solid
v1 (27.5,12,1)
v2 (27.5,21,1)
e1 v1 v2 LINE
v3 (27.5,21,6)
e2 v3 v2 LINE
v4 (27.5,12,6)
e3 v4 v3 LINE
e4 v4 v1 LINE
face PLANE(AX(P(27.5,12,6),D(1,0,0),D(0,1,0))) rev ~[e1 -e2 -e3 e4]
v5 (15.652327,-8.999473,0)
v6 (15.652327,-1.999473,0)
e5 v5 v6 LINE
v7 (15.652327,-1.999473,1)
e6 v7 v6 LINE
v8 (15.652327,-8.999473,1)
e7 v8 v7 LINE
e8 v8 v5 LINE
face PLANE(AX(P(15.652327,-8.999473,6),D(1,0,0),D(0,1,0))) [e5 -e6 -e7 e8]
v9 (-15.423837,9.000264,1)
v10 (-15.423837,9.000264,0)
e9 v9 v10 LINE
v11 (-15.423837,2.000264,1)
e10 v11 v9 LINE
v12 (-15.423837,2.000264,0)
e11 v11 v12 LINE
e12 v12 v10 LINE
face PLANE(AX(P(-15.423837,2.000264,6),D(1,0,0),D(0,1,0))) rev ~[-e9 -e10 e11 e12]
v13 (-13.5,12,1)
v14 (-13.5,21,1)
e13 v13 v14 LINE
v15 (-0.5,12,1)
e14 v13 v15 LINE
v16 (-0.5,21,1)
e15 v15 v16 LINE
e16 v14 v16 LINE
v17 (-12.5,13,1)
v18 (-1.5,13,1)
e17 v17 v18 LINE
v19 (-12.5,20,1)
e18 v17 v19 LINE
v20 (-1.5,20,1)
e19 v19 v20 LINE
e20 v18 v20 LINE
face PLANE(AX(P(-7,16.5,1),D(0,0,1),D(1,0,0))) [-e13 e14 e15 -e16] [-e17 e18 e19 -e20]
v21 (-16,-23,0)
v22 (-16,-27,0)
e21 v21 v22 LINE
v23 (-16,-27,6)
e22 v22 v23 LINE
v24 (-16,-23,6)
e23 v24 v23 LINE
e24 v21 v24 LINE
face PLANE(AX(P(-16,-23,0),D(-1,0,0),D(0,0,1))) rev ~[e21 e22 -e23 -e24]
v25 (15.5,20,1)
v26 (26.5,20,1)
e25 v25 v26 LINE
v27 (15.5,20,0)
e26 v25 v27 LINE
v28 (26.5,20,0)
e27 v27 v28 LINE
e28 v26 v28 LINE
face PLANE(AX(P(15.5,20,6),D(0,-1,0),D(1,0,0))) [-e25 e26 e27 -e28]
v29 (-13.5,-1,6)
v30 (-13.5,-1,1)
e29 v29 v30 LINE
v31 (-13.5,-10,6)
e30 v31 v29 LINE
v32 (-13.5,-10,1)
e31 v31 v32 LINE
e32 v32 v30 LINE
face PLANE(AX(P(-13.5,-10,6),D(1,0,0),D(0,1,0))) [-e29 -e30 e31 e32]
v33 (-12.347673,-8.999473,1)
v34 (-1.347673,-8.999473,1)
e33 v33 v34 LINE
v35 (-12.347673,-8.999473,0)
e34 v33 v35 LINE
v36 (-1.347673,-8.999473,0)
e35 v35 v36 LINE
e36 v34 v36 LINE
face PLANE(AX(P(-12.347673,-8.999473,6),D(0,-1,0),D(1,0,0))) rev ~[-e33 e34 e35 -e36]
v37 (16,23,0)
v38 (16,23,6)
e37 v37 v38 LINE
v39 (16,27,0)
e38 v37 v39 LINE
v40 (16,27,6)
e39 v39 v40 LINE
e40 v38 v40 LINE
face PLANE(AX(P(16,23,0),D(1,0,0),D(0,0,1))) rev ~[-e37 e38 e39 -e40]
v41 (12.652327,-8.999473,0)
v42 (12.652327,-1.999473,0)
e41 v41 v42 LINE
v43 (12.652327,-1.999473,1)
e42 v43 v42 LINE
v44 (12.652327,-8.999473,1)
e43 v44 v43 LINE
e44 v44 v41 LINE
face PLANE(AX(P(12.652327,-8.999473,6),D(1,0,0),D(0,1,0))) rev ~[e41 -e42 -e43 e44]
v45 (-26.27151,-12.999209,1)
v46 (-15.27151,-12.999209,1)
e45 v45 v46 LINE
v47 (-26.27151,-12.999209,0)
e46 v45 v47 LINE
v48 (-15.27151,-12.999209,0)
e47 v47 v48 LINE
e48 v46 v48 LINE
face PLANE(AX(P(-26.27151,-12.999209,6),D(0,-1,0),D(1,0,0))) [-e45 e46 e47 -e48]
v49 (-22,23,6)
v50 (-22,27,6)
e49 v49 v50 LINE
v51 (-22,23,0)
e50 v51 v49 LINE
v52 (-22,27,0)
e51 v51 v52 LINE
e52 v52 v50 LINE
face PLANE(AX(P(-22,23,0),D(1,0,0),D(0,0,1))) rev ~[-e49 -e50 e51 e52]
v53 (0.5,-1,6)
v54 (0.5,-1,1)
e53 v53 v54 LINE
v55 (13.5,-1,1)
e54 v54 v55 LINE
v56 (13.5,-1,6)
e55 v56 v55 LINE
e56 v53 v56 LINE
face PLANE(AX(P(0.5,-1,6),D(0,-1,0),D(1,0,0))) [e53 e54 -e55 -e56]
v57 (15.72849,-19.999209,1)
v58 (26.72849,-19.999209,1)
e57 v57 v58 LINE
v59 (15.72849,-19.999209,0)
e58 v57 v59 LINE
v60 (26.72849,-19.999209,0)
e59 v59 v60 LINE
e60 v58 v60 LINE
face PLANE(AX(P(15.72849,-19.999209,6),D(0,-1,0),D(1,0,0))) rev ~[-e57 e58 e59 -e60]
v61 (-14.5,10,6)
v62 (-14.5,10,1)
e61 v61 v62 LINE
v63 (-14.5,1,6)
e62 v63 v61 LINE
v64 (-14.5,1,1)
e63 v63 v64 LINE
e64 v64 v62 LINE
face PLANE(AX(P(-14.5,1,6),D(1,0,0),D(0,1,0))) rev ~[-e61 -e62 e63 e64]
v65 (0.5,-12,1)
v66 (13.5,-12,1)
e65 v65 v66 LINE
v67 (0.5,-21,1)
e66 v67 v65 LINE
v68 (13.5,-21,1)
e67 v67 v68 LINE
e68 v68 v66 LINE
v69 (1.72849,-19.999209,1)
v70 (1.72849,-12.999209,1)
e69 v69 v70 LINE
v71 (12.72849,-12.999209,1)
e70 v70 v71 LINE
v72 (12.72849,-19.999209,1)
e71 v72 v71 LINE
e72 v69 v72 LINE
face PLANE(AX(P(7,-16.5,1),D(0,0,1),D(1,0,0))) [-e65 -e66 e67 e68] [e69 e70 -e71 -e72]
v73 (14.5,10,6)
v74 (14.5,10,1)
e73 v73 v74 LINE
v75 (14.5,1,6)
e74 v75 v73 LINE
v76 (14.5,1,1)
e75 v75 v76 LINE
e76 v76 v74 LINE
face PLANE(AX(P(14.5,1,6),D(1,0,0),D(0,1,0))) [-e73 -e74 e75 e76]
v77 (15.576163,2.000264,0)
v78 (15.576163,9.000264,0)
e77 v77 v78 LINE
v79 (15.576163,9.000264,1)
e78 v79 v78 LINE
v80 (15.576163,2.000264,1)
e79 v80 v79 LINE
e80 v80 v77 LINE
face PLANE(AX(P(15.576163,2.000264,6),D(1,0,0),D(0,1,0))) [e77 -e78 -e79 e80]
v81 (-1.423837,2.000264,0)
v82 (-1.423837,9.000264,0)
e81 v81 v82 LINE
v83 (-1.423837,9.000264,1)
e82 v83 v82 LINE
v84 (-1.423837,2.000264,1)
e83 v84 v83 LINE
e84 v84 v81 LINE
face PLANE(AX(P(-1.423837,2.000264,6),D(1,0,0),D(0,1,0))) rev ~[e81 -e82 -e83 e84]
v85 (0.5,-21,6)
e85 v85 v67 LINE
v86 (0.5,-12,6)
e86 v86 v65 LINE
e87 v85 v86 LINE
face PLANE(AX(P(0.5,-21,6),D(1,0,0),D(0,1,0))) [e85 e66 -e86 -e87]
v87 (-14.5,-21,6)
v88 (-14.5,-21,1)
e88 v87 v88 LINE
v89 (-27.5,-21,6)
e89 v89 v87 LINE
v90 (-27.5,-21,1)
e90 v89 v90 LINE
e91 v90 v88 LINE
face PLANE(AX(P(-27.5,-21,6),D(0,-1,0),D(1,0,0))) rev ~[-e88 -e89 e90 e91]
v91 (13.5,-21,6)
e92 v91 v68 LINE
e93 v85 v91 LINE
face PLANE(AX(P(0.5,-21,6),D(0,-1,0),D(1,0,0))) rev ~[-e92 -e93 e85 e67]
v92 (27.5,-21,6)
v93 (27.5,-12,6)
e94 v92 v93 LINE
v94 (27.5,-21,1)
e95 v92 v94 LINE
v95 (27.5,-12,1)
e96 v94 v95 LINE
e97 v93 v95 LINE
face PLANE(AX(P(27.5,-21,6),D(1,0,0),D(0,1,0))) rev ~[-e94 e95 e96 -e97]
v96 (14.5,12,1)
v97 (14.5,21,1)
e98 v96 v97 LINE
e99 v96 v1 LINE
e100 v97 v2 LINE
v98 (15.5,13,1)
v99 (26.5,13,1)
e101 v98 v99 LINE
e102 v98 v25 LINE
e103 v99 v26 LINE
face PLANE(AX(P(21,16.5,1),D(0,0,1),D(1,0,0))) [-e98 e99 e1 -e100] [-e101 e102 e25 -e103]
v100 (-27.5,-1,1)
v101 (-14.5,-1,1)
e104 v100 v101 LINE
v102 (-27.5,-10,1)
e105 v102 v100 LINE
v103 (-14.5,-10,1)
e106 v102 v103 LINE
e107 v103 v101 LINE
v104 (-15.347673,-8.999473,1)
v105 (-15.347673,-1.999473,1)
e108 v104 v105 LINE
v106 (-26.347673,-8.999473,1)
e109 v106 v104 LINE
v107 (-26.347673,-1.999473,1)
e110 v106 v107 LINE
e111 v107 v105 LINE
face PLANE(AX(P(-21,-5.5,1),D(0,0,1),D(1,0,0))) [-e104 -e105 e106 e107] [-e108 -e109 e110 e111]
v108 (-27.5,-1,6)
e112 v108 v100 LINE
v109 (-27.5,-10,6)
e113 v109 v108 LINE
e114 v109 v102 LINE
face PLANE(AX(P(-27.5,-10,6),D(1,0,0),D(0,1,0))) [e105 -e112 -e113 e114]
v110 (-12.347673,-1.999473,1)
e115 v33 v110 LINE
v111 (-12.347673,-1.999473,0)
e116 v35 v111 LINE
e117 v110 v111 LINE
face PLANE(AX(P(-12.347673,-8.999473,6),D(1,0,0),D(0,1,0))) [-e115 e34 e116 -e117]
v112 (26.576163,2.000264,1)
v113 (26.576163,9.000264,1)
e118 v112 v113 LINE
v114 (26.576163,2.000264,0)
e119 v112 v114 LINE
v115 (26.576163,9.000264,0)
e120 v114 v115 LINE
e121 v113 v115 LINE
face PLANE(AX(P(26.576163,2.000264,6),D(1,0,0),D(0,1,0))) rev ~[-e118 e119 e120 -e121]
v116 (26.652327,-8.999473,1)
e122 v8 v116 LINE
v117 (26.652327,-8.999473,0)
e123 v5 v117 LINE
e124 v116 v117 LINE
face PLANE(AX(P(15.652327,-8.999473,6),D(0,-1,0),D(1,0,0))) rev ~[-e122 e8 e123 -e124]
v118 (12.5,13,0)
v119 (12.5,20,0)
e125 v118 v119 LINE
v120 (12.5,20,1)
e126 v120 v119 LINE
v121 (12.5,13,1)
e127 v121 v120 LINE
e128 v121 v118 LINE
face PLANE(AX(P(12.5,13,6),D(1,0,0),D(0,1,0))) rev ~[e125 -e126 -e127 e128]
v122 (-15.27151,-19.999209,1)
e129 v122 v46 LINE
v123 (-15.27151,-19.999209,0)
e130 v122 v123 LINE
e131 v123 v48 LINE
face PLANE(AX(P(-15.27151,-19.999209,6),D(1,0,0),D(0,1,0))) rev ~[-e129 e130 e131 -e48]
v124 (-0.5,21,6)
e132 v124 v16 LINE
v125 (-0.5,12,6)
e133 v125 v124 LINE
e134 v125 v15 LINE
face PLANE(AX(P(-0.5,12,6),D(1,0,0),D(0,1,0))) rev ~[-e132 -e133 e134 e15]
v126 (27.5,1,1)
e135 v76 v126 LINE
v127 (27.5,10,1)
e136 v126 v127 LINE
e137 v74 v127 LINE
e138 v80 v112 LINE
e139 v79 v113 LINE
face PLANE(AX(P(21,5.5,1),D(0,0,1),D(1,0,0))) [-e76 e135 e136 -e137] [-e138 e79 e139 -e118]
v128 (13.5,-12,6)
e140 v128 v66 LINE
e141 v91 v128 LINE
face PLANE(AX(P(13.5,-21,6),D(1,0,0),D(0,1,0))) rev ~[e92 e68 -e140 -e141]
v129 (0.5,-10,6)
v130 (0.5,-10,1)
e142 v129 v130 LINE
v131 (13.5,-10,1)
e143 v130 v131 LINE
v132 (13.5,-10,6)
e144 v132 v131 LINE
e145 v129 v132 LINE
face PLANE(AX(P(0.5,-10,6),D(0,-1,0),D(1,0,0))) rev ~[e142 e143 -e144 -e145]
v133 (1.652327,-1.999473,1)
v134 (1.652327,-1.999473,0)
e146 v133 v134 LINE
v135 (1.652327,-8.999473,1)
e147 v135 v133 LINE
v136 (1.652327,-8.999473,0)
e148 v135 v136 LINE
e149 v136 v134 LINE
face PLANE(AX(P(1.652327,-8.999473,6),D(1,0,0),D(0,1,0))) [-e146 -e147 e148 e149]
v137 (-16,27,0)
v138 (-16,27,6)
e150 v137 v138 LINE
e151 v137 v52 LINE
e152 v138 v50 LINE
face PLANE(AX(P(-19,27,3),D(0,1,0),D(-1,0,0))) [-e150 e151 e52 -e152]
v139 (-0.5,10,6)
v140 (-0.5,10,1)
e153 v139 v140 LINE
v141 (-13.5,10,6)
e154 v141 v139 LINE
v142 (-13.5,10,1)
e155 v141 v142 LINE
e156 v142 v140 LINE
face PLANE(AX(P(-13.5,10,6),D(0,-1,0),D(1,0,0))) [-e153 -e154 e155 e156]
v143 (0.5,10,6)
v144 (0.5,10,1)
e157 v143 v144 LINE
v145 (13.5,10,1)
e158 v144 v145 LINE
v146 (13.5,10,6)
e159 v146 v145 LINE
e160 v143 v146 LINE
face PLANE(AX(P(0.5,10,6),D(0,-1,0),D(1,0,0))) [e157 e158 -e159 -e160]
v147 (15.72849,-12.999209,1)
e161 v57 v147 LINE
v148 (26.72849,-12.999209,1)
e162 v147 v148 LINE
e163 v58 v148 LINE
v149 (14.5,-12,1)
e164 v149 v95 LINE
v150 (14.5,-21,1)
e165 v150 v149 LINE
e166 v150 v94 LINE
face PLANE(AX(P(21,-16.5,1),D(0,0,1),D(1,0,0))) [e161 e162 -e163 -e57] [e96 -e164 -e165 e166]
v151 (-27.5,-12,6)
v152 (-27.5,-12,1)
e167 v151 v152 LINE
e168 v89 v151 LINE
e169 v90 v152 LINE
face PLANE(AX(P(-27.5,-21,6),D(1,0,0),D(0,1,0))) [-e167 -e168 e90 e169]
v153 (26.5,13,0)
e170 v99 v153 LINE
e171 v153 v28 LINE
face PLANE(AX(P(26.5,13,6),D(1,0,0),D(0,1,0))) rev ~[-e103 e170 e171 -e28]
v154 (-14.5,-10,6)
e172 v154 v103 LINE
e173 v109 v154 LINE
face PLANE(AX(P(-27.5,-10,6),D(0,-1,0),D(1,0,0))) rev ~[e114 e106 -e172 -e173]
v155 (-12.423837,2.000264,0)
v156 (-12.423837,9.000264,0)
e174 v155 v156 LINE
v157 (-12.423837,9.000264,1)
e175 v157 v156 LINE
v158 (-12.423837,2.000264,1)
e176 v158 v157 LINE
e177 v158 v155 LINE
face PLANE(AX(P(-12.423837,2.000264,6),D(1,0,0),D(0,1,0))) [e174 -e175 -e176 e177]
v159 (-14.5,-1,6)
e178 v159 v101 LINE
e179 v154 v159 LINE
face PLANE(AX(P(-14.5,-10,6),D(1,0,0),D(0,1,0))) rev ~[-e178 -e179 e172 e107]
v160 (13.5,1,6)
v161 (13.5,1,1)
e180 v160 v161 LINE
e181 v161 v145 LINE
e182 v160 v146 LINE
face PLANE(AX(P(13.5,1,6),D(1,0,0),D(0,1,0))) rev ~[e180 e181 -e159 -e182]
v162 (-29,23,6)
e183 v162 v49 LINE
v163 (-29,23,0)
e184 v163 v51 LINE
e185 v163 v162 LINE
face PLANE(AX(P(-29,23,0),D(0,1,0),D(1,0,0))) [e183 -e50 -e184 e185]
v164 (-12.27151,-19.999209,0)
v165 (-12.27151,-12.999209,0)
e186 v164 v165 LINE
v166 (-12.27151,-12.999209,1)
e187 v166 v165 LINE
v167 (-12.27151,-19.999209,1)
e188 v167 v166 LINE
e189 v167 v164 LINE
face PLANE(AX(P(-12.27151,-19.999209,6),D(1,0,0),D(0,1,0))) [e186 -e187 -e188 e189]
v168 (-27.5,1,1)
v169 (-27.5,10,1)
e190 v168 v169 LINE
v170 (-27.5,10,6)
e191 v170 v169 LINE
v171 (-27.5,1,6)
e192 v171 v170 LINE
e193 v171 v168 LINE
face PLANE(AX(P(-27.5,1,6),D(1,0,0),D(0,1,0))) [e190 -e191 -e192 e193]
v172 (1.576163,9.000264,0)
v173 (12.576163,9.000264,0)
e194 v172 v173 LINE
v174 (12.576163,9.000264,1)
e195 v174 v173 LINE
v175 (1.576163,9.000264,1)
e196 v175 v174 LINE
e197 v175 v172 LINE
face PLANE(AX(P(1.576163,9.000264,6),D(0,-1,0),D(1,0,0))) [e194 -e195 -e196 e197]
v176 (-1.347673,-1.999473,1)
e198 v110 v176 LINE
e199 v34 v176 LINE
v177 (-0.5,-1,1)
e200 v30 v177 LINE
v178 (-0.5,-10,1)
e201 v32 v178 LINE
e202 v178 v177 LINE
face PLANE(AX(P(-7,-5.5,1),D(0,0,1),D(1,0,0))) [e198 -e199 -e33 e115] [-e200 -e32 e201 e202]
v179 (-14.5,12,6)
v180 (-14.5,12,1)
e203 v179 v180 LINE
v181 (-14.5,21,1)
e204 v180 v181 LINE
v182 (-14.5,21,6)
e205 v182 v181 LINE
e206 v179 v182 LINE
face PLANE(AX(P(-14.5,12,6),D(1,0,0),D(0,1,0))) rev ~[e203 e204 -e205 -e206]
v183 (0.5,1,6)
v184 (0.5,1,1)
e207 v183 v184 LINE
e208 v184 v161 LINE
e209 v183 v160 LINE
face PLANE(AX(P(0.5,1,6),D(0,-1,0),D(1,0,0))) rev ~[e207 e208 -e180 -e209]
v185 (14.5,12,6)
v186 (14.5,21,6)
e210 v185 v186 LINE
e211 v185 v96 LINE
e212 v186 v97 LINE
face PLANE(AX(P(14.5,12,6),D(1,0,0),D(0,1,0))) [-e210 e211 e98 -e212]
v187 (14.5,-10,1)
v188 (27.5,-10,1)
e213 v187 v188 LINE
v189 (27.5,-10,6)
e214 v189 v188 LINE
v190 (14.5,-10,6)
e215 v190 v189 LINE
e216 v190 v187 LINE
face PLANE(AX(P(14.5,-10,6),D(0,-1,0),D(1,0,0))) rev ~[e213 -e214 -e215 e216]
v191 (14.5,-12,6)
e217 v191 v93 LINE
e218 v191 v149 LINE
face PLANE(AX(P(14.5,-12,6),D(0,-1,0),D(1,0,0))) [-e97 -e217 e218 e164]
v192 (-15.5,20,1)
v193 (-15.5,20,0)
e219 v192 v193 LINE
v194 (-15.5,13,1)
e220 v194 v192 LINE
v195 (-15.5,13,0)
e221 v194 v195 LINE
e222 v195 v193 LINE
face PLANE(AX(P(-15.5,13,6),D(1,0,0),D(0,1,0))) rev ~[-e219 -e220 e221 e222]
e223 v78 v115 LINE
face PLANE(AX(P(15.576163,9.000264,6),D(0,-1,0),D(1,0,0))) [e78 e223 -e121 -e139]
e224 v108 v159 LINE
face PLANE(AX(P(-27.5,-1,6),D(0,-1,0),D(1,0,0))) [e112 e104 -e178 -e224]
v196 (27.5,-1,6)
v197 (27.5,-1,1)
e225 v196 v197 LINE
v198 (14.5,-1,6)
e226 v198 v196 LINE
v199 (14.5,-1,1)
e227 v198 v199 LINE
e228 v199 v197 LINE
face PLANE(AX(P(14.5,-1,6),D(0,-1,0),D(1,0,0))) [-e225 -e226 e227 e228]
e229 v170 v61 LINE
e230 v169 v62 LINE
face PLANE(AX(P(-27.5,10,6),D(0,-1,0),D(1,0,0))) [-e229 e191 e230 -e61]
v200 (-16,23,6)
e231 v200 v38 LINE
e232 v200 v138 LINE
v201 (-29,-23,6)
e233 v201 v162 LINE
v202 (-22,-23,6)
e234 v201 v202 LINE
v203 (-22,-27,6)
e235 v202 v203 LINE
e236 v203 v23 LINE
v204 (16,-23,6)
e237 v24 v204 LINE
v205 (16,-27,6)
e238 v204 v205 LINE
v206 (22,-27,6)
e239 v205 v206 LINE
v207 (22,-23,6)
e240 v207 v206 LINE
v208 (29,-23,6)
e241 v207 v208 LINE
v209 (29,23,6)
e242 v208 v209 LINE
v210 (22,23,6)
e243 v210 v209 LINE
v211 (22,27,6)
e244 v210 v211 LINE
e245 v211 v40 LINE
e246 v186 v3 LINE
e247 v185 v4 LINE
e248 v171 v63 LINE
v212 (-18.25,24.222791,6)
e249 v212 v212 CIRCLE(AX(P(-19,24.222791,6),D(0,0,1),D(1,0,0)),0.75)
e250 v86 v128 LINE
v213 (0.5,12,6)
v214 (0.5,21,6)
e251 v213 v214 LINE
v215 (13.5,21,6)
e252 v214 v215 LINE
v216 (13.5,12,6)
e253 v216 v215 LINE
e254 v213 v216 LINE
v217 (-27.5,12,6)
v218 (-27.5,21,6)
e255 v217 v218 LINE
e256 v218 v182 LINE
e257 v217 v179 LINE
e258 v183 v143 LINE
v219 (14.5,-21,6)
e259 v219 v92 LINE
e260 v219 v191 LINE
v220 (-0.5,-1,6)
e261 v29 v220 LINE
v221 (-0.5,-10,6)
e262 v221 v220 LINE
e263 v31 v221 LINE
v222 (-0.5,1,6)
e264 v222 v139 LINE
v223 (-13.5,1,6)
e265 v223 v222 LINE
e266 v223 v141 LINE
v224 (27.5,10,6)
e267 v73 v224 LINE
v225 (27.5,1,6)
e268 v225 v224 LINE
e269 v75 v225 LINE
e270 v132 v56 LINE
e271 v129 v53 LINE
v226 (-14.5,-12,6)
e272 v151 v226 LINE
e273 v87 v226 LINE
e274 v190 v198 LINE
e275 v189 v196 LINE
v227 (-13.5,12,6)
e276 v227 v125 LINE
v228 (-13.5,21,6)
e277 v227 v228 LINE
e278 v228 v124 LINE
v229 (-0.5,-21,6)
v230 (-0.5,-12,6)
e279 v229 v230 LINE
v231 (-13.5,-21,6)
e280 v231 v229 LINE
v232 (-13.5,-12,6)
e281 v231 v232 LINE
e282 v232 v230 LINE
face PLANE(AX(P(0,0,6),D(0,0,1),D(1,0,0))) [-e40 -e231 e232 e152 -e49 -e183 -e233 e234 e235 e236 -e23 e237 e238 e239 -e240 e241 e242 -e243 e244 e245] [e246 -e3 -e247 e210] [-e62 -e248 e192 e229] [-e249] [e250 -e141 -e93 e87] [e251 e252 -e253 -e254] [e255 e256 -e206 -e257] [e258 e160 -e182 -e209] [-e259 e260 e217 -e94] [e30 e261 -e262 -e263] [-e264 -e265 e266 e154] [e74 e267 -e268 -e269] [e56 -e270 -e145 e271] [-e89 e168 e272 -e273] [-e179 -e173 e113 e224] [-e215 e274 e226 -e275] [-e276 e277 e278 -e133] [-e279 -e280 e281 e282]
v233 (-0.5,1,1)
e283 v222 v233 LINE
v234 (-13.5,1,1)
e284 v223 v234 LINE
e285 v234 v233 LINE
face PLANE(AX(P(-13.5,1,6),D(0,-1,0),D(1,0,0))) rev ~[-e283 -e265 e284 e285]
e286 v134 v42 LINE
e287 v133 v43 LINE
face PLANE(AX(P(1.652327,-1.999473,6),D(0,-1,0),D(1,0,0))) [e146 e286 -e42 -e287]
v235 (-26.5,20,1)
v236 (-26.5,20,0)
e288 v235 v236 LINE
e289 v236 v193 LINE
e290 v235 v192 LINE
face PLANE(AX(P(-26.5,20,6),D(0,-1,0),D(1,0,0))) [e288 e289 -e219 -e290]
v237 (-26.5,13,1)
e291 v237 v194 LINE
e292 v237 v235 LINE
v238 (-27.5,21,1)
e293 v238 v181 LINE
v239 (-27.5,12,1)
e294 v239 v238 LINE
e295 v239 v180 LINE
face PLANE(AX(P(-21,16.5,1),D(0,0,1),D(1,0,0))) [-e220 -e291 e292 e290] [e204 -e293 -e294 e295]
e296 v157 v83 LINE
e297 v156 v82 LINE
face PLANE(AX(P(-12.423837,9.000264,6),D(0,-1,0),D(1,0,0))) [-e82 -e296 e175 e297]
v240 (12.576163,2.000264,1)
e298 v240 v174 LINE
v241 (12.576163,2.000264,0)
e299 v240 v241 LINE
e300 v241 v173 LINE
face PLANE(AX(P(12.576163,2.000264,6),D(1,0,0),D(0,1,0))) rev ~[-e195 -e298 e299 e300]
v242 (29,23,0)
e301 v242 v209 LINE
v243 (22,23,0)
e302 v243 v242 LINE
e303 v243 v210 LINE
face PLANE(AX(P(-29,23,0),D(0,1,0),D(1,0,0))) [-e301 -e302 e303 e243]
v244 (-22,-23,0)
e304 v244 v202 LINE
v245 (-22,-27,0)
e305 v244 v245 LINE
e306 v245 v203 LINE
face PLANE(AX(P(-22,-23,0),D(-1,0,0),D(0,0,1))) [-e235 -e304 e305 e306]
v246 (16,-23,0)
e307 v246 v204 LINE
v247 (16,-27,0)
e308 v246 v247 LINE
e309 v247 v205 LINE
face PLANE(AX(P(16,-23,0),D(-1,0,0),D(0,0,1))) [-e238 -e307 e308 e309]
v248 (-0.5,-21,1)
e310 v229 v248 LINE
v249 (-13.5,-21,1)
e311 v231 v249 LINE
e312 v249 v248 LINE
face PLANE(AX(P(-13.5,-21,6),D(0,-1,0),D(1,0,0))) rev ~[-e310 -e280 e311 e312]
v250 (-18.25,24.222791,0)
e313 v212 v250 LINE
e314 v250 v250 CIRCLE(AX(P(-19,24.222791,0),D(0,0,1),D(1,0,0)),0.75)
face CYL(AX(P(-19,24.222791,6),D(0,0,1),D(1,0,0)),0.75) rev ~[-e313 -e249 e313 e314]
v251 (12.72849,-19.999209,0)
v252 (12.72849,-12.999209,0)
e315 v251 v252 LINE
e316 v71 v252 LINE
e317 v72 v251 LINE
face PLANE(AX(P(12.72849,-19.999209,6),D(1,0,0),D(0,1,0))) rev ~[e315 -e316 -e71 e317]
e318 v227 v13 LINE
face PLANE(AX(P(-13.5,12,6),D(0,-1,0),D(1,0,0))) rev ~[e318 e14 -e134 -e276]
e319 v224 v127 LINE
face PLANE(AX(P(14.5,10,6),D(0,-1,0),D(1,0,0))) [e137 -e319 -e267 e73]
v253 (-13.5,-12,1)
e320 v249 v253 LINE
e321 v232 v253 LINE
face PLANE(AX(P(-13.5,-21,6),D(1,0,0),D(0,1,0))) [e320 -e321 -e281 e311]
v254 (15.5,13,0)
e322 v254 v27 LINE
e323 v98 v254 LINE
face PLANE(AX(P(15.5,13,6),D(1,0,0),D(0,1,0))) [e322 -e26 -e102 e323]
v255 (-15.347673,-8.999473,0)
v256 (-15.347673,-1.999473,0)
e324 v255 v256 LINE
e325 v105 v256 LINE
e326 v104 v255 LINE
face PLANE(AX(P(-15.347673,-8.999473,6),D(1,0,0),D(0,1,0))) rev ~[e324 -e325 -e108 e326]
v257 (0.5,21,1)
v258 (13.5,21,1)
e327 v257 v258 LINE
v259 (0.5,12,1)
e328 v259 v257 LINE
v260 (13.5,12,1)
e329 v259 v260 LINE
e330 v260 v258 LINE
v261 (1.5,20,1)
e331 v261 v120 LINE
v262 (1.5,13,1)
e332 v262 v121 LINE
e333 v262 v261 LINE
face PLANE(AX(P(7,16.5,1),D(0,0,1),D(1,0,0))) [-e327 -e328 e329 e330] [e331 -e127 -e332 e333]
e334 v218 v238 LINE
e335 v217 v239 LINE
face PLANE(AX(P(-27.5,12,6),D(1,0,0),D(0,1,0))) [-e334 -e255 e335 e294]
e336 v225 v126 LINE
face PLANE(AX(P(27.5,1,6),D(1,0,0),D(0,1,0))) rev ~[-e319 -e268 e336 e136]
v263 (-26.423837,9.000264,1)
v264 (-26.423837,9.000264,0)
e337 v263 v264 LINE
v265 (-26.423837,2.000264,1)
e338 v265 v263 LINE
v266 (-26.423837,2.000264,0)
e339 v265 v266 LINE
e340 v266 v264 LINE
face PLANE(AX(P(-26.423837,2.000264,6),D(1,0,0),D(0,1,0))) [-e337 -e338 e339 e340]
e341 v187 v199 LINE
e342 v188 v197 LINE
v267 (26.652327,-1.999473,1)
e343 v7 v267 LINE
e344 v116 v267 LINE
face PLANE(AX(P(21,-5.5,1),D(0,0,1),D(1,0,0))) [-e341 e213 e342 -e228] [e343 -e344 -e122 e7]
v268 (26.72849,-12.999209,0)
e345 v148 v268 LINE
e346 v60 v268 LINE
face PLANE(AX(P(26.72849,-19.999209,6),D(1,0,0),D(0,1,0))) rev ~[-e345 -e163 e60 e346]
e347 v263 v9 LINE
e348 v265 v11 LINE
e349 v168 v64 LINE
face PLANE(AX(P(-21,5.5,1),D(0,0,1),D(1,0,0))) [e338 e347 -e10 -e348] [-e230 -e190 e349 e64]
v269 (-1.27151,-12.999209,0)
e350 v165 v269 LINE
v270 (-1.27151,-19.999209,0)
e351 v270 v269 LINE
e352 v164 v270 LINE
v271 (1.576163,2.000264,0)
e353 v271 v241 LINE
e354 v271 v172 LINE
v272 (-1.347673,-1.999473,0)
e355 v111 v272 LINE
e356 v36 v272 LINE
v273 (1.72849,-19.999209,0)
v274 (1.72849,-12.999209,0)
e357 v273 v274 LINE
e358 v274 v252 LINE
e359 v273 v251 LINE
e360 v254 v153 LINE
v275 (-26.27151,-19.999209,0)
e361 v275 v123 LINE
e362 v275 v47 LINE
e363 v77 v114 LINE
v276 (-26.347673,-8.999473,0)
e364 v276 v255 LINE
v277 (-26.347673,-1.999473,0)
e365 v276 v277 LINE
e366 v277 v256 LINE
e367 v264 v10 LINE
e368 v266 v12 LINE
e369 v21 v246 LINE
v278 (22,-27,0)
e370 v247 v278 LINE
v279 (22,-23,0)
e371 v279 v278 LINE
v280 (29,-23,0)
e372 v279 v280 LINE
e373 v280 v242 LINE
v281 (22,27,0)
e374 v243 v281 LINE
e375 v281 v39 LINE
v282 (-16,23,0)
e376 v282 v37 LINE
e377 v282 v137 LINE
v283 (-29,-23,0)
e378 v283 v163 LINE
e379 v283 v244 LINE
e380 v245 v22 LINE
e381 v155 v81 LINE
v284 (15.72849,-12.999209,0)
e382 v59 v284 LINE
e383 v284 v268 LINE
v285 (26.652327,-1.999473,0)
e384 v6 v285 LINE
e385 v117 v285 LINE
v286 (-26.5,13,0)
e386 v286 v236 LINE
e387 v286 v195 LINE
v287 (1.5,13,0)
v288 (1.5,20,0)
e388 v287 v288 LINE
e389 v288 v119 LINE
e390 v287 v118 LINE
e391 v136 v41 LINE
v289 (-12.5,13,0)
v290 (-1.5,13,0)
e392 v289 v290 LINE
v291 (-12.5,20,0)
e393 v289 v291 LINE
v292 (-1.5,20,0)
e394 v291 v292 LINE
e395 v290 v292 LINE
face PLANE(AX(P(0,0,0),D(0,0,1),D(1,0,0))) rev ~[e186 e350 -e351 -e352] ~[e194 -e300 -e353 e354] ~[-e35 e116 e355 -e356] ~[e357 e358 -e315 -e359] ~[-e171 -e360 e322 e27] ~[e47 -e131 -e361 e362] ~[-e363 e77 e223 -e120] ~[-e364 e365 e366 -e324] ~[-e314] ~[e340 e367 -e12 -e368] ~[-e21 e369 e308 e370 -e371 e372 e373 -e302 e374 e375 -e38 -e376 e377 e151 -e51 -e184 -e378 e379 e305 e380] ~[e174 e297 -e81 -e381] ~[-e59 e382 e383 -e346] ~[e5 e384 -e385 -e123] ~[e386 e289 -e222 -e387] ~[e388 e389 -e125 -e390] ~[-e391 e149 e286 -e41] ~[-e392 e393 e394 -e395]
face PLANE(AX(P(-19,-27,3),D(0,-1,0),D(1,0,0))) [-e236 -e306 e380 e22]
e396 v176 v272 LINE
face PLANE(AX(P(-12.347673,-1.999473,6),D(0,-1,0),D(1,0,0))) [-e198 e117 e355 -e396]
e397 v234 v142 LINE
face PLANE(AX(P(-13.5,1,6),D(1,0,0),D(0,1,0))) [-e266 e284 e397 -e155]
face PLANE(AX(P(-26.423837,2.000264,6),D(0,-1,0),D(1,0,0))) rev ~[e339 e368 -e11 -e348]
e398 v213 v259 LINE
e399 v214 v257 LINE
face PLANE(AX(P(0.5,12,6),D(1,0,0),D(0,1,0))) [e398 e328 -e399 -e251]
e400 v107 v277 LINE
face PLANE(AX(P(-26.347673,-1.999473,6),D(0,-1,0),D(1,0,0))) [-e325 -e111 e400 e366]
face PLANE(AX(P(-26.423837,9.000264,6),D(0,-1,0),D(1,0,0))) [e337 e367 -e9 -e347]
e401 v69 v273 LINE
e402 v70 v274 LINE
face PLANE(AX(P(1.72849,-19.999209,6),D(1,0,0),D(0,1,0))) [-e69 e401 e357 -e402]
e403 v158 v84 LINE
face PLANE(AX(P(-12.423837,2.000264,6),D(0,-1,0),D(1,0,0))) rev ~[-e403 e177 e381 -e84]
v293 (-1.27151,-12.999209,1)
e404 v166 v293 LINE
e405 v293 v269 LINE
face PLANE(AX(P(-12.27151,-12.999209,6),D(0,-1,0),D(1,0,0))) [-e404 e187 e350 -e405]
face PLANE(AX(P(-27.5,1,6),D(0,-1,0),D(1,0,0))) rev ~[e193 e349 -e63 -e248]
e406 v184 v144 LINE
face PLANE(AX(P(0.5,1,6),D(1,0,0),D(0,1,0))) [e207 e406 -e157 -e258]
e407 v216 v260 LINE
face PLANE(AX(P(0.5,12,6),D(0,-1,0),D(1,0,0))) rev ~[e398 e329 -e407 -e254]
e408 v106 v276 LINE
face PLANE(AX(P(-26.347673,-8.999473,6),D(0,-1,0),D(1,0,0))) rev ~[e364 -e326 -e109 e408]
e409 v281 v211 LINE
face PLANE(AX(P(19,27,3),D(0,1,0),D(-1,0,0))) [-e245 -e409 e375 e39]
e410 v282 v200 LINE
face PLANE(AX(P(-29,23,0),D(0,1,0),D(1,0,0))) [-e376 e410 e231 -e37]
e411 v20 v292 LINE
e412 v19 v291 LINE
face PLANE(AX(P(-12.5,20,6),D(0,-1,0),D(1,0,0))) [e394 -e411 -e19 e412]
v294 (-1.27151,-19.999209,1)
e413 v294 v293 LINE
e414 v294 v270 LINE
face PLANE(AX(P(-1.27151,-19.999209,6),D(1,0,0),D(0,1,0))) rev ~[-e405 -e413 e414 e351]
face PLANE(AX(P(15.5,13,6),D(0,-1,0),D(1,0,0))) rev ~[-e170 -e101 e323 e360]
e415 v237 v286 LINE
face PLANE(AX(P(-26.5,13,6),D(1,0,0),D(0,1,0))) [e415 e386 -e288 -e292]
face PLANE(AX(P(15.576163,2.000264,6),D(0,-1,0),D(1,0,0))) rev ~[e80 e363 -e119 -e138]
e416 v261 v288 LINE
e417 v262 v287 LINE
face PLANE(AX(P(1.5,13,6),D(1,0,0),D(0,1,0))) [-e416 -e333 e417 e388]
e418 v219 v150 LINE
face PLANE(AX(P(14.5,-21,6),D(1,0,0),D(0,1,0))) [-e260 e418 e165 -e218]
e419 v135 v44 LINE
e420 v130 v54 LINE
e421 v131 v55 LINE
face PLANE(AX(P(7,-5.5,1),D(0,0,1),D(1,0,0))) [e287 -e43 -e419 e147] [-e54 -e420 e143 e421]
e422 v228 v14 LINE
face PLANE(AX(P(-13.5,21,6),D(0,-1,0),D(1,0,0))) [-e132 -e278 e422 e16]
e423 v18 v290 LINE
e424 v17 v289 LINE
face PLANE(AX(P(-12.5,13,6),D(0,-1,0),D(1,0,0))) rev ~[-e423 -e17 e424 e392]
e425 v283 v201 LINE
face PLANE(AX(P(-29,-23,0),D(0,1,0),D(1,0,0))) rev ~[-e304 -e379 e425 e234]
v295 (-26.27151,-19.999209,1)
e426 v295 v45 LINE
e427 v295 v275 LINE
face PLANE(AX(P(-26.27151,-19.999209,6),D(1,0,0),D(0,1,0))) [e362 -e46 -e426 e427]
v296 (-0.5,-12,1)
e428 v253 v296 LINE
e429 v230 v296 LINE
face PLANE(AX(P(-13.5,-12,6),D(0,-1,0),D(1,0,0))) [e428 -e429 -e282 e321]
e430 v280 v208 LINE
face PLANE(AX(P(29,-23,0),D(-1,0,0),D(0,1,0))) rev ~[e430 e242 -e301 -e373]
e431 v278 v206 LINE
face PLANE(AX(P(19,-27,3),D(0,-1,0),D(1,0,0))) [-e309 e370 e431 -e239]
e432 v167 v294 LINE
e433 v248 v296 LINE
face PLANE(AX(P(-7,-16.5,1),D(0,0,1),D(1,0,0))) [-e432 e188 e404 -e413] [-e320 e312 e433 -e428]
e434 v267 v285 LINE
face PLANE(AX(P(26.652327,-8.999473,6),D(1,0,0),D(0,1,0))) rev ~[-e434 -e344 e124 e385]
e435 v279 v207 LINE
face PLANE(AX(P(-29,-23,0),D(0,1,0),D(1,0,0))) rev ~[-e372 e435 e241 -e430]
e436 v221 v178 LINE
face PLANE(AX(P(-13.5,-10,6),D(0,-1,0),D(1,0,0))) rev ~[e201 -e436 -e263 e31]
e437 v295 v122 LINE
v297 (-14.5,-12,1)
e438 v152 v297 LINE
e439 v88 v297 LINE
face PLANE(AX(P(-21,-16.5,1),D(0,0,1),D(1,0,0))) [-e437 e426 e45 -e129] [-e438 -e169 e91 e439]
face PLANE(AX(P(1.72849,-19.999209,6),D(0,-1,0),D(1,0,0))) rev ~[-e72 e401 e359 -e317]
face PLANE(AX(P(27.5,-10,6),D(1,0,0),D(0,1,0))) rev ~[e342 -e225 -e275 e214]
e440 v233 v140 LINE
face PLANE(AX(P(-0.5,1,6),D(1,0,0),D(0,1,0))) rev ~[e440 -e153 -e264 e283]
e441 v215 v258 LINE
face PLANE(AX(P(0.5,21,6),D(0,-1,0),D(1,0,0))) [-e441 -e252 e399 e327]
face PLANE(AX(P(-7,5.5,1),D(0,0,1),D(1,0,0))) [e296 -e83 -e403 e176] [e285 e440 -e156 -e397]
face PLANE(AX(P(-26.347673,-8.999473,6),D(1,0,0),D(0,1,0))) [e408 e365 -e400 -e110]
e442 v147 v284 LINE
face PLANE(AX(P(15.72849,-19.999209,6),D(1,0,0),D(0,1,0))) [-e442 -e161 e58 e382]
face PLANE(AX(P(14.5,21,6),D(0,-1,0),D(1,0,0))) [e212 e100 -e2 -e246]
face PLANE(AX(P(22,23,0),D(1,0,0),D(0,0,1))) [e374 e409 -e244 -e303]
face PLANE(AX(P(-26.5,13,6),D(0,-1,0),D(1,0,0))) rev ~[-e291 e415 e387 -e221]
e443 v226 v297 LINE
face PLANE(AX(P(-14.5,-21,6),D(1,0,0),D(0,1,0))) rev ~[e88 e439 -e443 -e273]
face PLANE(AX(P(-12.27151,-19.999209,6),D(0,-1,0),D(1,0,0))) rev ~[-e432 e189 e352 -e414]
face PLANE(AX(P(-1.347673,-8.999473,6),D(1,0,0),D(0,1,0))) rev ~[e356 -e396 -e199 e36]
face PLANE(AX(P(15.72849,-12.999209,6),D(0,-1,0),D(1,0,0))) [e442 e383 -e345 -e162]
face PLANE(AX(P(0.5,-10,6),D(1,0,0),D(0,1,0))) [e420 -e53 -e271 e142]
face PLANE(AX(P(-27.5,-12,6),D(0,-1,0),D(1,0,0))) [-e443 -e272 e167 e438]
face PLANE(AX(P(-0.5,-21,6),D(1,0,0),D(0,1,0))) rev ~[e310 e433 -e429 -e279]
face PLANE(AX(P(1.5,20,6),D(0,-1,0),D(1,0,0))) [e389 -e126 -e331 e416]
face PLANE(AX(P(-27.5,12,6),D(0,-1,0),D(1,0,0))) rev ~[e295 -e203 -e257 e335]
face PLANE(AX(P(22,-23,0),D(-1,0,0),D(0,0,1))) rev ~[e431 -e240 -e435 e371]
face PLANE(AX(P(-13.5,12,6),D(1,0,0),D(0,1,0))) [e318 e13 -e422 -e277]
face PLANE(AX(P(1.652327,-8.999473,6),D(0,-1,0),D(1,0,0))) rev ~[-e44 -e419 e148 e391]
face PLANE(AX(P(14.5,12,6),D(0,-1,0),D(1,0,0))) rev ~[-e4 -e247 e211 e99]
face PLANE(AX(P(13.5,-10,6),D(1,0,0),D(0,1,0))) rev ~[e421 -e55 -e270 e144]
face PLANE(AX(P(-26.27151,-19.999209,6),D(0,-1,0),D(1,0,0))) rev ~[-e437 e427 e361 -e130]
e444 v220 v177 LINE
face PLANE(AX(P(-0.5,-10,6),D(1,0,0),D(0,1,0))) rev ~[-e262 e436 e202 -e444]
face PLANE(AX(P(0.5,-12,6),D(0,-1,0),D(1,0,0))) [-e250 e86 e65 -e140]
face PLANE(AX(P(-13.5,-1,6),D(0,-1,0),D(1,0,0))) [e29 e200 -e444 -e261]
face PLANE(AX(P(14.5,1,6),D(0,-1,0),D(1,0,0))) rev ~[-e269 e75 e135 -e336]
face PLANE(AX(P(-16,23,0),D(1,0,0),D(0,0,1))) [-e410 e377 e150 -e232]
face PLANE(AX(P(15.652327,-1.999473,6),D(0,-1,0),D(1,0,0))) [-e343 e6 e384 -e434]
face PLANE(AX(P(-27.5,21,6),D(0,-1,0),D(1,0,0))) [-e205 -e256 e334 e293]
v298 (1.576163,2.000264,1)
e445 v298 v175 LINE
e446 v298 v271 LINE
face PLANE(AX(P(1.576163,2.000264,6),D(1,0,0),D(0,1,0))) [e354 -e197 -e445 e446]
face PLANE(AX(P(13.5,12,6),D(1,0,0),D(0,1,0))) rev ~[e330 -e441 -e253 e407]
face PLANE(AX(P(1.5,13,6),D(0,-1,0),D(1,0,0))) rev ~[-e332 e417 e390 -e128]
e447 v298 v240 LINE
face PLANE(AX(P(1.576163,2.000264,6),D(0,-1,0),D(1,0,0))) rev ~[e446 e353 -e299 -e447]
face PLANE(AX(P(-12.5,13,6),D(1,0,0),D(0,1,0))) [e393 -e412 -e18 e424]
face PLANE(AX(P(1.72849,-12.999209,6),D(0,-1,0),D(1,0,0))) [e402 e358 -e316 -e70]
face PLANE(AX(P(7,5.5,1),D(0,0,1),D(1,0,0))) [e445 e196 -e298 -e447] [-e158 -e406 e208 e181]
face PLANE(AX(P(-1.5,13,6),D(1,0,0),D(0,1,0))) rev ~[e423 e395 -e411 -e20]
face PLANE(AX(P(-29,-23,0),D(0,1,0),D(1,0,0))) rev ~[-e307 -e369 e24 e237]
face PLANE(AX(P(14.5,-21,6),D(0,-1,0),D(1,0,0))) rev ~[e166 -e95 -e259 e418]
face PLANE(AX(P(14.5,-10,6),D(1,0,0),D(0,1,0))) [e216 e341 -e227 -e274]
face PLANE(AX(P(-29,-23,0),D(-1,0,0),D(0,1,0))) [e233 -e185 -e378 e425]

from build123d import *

# Parameters (mm, degrees)
F0_W      = 58
F0_H      = 46
F1_DEPTH  = 6
F2_W      = 11
F2_H      = 7
F3_DEPTH  = 6.001
F4_W      = 13
F4_H      = 9
F4_W_2    = 11
F4_H_2    = 7
F5_DEPTH  = 5
F6_W      = 6
F6_H      = 6
F7_DEPTH  = 4
F8_W      = 6
F8_H      = 6
F9_DEPTH  = 4
F10_R     = 0.75
F11_DEPTH = 6.001


with BuildPart() as f1:
    # F0 (on Top) → F1 (new body)
    with BuildSketch(Plane.XY):
        Rectangle(F0_W, F0_H)
    extrude(amount=F1_DEPTH)

    # F2 (on face) → F3 (cut, through all)
    with BuildSketch(Plane.XY.offset(6)):
        with Locations((-21, 16.5)):
            Rectangle(F2_W, F2_H)
        with Locations((-7, 16.5)):
            Rectangle(F2_W, F2_H)
        with Locations((7, 16.5)):
            Rectangle(F2_W, F2_H)
        with Locations((21, 16.5)):
            Rectangle(F2_W, F2_H)
        with Locations((-20.923837, 5.500264)):
            Rectangle(F2_W, F2_H)
        with Locations((-6.923837, 5.500264)):
            Rectangle(F2_W, F2_H)
        with Locations((7.076163, 5.500264)):
            Rectangle(F2_W, F2_H)
        with Locations((21.076163, 5.500264)):
            Rectangle(F2_W, F2_H)
        with Locations((-20.847673, -5.499473)):
            Rectangle(F2_W, F2_H)
        with Locations((-6.847673, -5.499473)):
            Rectangle(F2_W, F2_H)
        with Locations((7.152327, -5.499473)):
            Rectangle(F2_W, F2_H)
        with Locations((21.152327, -5.499473)):
            Rectangle(F2_W, F2_H)
        with Locations((-20.77151, -16.499209)):
            Rectangle(F2_W, F2_H)
        with Locations((-6.77151, -16.499209)):
            Rectangle(F2_W, F2_H)
        with Locations((7.22849, -16.499209)):
            Rectangle(F2_W, F2_H)
        with Locations((21.22849, -16.499209)):
            Rectangle(F2_W, F2_H)
    extrude(amount=-F3_DEPTH, mode=Mode.SUBTRACT)

    # F4 (on face) → F5 (cut)
    with BuildSketch(Plane.XY.offset(6)):
        with Locations((-21, 16.5)):
            Rectangle(F4_W, F4_H)
        with Locations((-21, 16.5)):
            Rectangle(F4_W_2, F4_H_2, mode=Mode.SUBTRACT)
        with Locations((-7, 16.5)):
            Rectangle(F4_W, F4_H)
        with Locations((-7, 16.5)):
            Rectangle(F4_W_2, F4_H_2, mode=Mode.SUBTRACT)
        with Locations((7, 16.5)):
            Rectangle(F4_W, F4_H)
        with Locations((7, 16.5)):
            Rectangle(F4_W_2, F4_H_2, mode=Mode.SUBTRACT)
        with Locations((21, 16.5)):
            Rectangle(F4_W, F4_H)
        with Locations((21, 16.5)):
            Rectangle(F4_W_2, F4_H_2, mode=Mode.SUBTRACT)
        with Locations((-21, 5.5)):
            Rectangle(F4_W, F4_H)
        with Locations((-20.923837, 5.500264)):
            Rectangle(F4_W_2, F4_H_2, mode=Mode.SUBTRACT)
        with Locations((7, 5.5)):
            Rectangle(F4_W, F4_H)
        with Locations((7.076163, 5.500264)):
            Rectangle(F4_W_2, F4_H_2, mode=Mode.SUBTRACT)
        with Locations((-7, 5.5)):
            Rectangle(F4_W, F4_H)
        with Locations((-6.923837, 5.500264)):
            Rectangle(F4_W_2, F4_H_2, mode=Mode.SUBTRACT)
        with Locations((21, 5.5)):
            Rectangle(F4_W, F4_H)
        with Locations((21.076163, 5.500264)):
            Rectangle(F4_W_2, F4_H_2, mode=Mode.SUBTRACT)
        with Locations((-21, -5.5)):
            Rectangle(F4_W, F4_H)
        with Locations((-20.847673, -5.499473)):
            Rectangle(F4_W_2, F4_H_2, mode=Mode.SUBTRACT)
        with Locations((-7, -5.5)):
            Rectangle(F4_W, F4_H)
        with Locations((-6.847673, -5.499473)):
            Rectangle(F4_W_2, F4_H_2, mode=Mode.SUBTRACT)
        with Locations((7, -5.5)):
            Rectangle(F4_W, F4_H)
        with Locations((7.152327, -5.499473)):
            Rectangle(F4_W_2, F4_H_2, mode=Mode.SUBTRACT)
        with Locations((21, -5.5)):
            Rectangle(F4_W, F4_H)
        with Locations((21.152327, -5.499473)):
            Rectangle(F4_W_2, F4_H_2, mode=Mode.SUBTRACT)
        with Locations((-21, -16.5)):
            Rectangle(F4_W, F4_H)
        with Locations((-20.77151, -16.499209)):
            Rectangle(F4_W_2, F4_H_2, mode=Mode.SUBTRACT)
        with Locations((-7, -16.5)):
            Rectangle(F4_W, F4_H)
        with Locations((-6.77151, -16.499209)):
            Rectangle(F4_W_2, F4_H_2, mode=Mode.SUBTRACT)
        with Locations((7, -16.5)):
            Rectangle(F4_W, F4_H)
        with Locations((7.22849, -16.499209)):
            Rectangle(F4_W_2, F4_H_2, mode=Mode.SUBTRACT)
        with Locations((21, -16.5)):
            Rectangle(F4_W, F4_H)
        with Locations((21.22849, -16.499209)):
            Rectangle(F4_W_2, F4_H_2, mode=Mode.SUBTRACT)
    extrude(amount=-F5_DEPTH, mode=Mode.SUBTRACT)

    # F6 (on face) → F7 (join)
    with BuildSketch(Plane.XZ.offset(23)):
        with Locations((19, 3)):
            Rectangle(F6_W, F6_H)
        with Locations((-19, 3)):
            Rectangle(F6_W, F6_H)
    extrude(amount=F7_DEPTH)

    # F8 (on face) → F9 (join)
    with BuildSketch(Plane(origin=(0, 23, 0), x_dir=(-1, 0, 0), z_dir=(0, 1, 0))):
        with Locations((19, 3)):
            Rectangle(F8_W, F8_H)
        with Locations((-19, 3)):
            Rectangle(F8_W, F8_H)
    extrude(amount=F9_DEPTH)

    # F10 (on face) → F11 (cut, through all)
    with BuildSketch(Plane.XY.offset(6)):
        with Locations((-19, 24.222791)):
            Circle(F10_R)
    extrude(amount=-F11_DEPTH, mode=Mode.SUBTRACT)


solid = f1.part
